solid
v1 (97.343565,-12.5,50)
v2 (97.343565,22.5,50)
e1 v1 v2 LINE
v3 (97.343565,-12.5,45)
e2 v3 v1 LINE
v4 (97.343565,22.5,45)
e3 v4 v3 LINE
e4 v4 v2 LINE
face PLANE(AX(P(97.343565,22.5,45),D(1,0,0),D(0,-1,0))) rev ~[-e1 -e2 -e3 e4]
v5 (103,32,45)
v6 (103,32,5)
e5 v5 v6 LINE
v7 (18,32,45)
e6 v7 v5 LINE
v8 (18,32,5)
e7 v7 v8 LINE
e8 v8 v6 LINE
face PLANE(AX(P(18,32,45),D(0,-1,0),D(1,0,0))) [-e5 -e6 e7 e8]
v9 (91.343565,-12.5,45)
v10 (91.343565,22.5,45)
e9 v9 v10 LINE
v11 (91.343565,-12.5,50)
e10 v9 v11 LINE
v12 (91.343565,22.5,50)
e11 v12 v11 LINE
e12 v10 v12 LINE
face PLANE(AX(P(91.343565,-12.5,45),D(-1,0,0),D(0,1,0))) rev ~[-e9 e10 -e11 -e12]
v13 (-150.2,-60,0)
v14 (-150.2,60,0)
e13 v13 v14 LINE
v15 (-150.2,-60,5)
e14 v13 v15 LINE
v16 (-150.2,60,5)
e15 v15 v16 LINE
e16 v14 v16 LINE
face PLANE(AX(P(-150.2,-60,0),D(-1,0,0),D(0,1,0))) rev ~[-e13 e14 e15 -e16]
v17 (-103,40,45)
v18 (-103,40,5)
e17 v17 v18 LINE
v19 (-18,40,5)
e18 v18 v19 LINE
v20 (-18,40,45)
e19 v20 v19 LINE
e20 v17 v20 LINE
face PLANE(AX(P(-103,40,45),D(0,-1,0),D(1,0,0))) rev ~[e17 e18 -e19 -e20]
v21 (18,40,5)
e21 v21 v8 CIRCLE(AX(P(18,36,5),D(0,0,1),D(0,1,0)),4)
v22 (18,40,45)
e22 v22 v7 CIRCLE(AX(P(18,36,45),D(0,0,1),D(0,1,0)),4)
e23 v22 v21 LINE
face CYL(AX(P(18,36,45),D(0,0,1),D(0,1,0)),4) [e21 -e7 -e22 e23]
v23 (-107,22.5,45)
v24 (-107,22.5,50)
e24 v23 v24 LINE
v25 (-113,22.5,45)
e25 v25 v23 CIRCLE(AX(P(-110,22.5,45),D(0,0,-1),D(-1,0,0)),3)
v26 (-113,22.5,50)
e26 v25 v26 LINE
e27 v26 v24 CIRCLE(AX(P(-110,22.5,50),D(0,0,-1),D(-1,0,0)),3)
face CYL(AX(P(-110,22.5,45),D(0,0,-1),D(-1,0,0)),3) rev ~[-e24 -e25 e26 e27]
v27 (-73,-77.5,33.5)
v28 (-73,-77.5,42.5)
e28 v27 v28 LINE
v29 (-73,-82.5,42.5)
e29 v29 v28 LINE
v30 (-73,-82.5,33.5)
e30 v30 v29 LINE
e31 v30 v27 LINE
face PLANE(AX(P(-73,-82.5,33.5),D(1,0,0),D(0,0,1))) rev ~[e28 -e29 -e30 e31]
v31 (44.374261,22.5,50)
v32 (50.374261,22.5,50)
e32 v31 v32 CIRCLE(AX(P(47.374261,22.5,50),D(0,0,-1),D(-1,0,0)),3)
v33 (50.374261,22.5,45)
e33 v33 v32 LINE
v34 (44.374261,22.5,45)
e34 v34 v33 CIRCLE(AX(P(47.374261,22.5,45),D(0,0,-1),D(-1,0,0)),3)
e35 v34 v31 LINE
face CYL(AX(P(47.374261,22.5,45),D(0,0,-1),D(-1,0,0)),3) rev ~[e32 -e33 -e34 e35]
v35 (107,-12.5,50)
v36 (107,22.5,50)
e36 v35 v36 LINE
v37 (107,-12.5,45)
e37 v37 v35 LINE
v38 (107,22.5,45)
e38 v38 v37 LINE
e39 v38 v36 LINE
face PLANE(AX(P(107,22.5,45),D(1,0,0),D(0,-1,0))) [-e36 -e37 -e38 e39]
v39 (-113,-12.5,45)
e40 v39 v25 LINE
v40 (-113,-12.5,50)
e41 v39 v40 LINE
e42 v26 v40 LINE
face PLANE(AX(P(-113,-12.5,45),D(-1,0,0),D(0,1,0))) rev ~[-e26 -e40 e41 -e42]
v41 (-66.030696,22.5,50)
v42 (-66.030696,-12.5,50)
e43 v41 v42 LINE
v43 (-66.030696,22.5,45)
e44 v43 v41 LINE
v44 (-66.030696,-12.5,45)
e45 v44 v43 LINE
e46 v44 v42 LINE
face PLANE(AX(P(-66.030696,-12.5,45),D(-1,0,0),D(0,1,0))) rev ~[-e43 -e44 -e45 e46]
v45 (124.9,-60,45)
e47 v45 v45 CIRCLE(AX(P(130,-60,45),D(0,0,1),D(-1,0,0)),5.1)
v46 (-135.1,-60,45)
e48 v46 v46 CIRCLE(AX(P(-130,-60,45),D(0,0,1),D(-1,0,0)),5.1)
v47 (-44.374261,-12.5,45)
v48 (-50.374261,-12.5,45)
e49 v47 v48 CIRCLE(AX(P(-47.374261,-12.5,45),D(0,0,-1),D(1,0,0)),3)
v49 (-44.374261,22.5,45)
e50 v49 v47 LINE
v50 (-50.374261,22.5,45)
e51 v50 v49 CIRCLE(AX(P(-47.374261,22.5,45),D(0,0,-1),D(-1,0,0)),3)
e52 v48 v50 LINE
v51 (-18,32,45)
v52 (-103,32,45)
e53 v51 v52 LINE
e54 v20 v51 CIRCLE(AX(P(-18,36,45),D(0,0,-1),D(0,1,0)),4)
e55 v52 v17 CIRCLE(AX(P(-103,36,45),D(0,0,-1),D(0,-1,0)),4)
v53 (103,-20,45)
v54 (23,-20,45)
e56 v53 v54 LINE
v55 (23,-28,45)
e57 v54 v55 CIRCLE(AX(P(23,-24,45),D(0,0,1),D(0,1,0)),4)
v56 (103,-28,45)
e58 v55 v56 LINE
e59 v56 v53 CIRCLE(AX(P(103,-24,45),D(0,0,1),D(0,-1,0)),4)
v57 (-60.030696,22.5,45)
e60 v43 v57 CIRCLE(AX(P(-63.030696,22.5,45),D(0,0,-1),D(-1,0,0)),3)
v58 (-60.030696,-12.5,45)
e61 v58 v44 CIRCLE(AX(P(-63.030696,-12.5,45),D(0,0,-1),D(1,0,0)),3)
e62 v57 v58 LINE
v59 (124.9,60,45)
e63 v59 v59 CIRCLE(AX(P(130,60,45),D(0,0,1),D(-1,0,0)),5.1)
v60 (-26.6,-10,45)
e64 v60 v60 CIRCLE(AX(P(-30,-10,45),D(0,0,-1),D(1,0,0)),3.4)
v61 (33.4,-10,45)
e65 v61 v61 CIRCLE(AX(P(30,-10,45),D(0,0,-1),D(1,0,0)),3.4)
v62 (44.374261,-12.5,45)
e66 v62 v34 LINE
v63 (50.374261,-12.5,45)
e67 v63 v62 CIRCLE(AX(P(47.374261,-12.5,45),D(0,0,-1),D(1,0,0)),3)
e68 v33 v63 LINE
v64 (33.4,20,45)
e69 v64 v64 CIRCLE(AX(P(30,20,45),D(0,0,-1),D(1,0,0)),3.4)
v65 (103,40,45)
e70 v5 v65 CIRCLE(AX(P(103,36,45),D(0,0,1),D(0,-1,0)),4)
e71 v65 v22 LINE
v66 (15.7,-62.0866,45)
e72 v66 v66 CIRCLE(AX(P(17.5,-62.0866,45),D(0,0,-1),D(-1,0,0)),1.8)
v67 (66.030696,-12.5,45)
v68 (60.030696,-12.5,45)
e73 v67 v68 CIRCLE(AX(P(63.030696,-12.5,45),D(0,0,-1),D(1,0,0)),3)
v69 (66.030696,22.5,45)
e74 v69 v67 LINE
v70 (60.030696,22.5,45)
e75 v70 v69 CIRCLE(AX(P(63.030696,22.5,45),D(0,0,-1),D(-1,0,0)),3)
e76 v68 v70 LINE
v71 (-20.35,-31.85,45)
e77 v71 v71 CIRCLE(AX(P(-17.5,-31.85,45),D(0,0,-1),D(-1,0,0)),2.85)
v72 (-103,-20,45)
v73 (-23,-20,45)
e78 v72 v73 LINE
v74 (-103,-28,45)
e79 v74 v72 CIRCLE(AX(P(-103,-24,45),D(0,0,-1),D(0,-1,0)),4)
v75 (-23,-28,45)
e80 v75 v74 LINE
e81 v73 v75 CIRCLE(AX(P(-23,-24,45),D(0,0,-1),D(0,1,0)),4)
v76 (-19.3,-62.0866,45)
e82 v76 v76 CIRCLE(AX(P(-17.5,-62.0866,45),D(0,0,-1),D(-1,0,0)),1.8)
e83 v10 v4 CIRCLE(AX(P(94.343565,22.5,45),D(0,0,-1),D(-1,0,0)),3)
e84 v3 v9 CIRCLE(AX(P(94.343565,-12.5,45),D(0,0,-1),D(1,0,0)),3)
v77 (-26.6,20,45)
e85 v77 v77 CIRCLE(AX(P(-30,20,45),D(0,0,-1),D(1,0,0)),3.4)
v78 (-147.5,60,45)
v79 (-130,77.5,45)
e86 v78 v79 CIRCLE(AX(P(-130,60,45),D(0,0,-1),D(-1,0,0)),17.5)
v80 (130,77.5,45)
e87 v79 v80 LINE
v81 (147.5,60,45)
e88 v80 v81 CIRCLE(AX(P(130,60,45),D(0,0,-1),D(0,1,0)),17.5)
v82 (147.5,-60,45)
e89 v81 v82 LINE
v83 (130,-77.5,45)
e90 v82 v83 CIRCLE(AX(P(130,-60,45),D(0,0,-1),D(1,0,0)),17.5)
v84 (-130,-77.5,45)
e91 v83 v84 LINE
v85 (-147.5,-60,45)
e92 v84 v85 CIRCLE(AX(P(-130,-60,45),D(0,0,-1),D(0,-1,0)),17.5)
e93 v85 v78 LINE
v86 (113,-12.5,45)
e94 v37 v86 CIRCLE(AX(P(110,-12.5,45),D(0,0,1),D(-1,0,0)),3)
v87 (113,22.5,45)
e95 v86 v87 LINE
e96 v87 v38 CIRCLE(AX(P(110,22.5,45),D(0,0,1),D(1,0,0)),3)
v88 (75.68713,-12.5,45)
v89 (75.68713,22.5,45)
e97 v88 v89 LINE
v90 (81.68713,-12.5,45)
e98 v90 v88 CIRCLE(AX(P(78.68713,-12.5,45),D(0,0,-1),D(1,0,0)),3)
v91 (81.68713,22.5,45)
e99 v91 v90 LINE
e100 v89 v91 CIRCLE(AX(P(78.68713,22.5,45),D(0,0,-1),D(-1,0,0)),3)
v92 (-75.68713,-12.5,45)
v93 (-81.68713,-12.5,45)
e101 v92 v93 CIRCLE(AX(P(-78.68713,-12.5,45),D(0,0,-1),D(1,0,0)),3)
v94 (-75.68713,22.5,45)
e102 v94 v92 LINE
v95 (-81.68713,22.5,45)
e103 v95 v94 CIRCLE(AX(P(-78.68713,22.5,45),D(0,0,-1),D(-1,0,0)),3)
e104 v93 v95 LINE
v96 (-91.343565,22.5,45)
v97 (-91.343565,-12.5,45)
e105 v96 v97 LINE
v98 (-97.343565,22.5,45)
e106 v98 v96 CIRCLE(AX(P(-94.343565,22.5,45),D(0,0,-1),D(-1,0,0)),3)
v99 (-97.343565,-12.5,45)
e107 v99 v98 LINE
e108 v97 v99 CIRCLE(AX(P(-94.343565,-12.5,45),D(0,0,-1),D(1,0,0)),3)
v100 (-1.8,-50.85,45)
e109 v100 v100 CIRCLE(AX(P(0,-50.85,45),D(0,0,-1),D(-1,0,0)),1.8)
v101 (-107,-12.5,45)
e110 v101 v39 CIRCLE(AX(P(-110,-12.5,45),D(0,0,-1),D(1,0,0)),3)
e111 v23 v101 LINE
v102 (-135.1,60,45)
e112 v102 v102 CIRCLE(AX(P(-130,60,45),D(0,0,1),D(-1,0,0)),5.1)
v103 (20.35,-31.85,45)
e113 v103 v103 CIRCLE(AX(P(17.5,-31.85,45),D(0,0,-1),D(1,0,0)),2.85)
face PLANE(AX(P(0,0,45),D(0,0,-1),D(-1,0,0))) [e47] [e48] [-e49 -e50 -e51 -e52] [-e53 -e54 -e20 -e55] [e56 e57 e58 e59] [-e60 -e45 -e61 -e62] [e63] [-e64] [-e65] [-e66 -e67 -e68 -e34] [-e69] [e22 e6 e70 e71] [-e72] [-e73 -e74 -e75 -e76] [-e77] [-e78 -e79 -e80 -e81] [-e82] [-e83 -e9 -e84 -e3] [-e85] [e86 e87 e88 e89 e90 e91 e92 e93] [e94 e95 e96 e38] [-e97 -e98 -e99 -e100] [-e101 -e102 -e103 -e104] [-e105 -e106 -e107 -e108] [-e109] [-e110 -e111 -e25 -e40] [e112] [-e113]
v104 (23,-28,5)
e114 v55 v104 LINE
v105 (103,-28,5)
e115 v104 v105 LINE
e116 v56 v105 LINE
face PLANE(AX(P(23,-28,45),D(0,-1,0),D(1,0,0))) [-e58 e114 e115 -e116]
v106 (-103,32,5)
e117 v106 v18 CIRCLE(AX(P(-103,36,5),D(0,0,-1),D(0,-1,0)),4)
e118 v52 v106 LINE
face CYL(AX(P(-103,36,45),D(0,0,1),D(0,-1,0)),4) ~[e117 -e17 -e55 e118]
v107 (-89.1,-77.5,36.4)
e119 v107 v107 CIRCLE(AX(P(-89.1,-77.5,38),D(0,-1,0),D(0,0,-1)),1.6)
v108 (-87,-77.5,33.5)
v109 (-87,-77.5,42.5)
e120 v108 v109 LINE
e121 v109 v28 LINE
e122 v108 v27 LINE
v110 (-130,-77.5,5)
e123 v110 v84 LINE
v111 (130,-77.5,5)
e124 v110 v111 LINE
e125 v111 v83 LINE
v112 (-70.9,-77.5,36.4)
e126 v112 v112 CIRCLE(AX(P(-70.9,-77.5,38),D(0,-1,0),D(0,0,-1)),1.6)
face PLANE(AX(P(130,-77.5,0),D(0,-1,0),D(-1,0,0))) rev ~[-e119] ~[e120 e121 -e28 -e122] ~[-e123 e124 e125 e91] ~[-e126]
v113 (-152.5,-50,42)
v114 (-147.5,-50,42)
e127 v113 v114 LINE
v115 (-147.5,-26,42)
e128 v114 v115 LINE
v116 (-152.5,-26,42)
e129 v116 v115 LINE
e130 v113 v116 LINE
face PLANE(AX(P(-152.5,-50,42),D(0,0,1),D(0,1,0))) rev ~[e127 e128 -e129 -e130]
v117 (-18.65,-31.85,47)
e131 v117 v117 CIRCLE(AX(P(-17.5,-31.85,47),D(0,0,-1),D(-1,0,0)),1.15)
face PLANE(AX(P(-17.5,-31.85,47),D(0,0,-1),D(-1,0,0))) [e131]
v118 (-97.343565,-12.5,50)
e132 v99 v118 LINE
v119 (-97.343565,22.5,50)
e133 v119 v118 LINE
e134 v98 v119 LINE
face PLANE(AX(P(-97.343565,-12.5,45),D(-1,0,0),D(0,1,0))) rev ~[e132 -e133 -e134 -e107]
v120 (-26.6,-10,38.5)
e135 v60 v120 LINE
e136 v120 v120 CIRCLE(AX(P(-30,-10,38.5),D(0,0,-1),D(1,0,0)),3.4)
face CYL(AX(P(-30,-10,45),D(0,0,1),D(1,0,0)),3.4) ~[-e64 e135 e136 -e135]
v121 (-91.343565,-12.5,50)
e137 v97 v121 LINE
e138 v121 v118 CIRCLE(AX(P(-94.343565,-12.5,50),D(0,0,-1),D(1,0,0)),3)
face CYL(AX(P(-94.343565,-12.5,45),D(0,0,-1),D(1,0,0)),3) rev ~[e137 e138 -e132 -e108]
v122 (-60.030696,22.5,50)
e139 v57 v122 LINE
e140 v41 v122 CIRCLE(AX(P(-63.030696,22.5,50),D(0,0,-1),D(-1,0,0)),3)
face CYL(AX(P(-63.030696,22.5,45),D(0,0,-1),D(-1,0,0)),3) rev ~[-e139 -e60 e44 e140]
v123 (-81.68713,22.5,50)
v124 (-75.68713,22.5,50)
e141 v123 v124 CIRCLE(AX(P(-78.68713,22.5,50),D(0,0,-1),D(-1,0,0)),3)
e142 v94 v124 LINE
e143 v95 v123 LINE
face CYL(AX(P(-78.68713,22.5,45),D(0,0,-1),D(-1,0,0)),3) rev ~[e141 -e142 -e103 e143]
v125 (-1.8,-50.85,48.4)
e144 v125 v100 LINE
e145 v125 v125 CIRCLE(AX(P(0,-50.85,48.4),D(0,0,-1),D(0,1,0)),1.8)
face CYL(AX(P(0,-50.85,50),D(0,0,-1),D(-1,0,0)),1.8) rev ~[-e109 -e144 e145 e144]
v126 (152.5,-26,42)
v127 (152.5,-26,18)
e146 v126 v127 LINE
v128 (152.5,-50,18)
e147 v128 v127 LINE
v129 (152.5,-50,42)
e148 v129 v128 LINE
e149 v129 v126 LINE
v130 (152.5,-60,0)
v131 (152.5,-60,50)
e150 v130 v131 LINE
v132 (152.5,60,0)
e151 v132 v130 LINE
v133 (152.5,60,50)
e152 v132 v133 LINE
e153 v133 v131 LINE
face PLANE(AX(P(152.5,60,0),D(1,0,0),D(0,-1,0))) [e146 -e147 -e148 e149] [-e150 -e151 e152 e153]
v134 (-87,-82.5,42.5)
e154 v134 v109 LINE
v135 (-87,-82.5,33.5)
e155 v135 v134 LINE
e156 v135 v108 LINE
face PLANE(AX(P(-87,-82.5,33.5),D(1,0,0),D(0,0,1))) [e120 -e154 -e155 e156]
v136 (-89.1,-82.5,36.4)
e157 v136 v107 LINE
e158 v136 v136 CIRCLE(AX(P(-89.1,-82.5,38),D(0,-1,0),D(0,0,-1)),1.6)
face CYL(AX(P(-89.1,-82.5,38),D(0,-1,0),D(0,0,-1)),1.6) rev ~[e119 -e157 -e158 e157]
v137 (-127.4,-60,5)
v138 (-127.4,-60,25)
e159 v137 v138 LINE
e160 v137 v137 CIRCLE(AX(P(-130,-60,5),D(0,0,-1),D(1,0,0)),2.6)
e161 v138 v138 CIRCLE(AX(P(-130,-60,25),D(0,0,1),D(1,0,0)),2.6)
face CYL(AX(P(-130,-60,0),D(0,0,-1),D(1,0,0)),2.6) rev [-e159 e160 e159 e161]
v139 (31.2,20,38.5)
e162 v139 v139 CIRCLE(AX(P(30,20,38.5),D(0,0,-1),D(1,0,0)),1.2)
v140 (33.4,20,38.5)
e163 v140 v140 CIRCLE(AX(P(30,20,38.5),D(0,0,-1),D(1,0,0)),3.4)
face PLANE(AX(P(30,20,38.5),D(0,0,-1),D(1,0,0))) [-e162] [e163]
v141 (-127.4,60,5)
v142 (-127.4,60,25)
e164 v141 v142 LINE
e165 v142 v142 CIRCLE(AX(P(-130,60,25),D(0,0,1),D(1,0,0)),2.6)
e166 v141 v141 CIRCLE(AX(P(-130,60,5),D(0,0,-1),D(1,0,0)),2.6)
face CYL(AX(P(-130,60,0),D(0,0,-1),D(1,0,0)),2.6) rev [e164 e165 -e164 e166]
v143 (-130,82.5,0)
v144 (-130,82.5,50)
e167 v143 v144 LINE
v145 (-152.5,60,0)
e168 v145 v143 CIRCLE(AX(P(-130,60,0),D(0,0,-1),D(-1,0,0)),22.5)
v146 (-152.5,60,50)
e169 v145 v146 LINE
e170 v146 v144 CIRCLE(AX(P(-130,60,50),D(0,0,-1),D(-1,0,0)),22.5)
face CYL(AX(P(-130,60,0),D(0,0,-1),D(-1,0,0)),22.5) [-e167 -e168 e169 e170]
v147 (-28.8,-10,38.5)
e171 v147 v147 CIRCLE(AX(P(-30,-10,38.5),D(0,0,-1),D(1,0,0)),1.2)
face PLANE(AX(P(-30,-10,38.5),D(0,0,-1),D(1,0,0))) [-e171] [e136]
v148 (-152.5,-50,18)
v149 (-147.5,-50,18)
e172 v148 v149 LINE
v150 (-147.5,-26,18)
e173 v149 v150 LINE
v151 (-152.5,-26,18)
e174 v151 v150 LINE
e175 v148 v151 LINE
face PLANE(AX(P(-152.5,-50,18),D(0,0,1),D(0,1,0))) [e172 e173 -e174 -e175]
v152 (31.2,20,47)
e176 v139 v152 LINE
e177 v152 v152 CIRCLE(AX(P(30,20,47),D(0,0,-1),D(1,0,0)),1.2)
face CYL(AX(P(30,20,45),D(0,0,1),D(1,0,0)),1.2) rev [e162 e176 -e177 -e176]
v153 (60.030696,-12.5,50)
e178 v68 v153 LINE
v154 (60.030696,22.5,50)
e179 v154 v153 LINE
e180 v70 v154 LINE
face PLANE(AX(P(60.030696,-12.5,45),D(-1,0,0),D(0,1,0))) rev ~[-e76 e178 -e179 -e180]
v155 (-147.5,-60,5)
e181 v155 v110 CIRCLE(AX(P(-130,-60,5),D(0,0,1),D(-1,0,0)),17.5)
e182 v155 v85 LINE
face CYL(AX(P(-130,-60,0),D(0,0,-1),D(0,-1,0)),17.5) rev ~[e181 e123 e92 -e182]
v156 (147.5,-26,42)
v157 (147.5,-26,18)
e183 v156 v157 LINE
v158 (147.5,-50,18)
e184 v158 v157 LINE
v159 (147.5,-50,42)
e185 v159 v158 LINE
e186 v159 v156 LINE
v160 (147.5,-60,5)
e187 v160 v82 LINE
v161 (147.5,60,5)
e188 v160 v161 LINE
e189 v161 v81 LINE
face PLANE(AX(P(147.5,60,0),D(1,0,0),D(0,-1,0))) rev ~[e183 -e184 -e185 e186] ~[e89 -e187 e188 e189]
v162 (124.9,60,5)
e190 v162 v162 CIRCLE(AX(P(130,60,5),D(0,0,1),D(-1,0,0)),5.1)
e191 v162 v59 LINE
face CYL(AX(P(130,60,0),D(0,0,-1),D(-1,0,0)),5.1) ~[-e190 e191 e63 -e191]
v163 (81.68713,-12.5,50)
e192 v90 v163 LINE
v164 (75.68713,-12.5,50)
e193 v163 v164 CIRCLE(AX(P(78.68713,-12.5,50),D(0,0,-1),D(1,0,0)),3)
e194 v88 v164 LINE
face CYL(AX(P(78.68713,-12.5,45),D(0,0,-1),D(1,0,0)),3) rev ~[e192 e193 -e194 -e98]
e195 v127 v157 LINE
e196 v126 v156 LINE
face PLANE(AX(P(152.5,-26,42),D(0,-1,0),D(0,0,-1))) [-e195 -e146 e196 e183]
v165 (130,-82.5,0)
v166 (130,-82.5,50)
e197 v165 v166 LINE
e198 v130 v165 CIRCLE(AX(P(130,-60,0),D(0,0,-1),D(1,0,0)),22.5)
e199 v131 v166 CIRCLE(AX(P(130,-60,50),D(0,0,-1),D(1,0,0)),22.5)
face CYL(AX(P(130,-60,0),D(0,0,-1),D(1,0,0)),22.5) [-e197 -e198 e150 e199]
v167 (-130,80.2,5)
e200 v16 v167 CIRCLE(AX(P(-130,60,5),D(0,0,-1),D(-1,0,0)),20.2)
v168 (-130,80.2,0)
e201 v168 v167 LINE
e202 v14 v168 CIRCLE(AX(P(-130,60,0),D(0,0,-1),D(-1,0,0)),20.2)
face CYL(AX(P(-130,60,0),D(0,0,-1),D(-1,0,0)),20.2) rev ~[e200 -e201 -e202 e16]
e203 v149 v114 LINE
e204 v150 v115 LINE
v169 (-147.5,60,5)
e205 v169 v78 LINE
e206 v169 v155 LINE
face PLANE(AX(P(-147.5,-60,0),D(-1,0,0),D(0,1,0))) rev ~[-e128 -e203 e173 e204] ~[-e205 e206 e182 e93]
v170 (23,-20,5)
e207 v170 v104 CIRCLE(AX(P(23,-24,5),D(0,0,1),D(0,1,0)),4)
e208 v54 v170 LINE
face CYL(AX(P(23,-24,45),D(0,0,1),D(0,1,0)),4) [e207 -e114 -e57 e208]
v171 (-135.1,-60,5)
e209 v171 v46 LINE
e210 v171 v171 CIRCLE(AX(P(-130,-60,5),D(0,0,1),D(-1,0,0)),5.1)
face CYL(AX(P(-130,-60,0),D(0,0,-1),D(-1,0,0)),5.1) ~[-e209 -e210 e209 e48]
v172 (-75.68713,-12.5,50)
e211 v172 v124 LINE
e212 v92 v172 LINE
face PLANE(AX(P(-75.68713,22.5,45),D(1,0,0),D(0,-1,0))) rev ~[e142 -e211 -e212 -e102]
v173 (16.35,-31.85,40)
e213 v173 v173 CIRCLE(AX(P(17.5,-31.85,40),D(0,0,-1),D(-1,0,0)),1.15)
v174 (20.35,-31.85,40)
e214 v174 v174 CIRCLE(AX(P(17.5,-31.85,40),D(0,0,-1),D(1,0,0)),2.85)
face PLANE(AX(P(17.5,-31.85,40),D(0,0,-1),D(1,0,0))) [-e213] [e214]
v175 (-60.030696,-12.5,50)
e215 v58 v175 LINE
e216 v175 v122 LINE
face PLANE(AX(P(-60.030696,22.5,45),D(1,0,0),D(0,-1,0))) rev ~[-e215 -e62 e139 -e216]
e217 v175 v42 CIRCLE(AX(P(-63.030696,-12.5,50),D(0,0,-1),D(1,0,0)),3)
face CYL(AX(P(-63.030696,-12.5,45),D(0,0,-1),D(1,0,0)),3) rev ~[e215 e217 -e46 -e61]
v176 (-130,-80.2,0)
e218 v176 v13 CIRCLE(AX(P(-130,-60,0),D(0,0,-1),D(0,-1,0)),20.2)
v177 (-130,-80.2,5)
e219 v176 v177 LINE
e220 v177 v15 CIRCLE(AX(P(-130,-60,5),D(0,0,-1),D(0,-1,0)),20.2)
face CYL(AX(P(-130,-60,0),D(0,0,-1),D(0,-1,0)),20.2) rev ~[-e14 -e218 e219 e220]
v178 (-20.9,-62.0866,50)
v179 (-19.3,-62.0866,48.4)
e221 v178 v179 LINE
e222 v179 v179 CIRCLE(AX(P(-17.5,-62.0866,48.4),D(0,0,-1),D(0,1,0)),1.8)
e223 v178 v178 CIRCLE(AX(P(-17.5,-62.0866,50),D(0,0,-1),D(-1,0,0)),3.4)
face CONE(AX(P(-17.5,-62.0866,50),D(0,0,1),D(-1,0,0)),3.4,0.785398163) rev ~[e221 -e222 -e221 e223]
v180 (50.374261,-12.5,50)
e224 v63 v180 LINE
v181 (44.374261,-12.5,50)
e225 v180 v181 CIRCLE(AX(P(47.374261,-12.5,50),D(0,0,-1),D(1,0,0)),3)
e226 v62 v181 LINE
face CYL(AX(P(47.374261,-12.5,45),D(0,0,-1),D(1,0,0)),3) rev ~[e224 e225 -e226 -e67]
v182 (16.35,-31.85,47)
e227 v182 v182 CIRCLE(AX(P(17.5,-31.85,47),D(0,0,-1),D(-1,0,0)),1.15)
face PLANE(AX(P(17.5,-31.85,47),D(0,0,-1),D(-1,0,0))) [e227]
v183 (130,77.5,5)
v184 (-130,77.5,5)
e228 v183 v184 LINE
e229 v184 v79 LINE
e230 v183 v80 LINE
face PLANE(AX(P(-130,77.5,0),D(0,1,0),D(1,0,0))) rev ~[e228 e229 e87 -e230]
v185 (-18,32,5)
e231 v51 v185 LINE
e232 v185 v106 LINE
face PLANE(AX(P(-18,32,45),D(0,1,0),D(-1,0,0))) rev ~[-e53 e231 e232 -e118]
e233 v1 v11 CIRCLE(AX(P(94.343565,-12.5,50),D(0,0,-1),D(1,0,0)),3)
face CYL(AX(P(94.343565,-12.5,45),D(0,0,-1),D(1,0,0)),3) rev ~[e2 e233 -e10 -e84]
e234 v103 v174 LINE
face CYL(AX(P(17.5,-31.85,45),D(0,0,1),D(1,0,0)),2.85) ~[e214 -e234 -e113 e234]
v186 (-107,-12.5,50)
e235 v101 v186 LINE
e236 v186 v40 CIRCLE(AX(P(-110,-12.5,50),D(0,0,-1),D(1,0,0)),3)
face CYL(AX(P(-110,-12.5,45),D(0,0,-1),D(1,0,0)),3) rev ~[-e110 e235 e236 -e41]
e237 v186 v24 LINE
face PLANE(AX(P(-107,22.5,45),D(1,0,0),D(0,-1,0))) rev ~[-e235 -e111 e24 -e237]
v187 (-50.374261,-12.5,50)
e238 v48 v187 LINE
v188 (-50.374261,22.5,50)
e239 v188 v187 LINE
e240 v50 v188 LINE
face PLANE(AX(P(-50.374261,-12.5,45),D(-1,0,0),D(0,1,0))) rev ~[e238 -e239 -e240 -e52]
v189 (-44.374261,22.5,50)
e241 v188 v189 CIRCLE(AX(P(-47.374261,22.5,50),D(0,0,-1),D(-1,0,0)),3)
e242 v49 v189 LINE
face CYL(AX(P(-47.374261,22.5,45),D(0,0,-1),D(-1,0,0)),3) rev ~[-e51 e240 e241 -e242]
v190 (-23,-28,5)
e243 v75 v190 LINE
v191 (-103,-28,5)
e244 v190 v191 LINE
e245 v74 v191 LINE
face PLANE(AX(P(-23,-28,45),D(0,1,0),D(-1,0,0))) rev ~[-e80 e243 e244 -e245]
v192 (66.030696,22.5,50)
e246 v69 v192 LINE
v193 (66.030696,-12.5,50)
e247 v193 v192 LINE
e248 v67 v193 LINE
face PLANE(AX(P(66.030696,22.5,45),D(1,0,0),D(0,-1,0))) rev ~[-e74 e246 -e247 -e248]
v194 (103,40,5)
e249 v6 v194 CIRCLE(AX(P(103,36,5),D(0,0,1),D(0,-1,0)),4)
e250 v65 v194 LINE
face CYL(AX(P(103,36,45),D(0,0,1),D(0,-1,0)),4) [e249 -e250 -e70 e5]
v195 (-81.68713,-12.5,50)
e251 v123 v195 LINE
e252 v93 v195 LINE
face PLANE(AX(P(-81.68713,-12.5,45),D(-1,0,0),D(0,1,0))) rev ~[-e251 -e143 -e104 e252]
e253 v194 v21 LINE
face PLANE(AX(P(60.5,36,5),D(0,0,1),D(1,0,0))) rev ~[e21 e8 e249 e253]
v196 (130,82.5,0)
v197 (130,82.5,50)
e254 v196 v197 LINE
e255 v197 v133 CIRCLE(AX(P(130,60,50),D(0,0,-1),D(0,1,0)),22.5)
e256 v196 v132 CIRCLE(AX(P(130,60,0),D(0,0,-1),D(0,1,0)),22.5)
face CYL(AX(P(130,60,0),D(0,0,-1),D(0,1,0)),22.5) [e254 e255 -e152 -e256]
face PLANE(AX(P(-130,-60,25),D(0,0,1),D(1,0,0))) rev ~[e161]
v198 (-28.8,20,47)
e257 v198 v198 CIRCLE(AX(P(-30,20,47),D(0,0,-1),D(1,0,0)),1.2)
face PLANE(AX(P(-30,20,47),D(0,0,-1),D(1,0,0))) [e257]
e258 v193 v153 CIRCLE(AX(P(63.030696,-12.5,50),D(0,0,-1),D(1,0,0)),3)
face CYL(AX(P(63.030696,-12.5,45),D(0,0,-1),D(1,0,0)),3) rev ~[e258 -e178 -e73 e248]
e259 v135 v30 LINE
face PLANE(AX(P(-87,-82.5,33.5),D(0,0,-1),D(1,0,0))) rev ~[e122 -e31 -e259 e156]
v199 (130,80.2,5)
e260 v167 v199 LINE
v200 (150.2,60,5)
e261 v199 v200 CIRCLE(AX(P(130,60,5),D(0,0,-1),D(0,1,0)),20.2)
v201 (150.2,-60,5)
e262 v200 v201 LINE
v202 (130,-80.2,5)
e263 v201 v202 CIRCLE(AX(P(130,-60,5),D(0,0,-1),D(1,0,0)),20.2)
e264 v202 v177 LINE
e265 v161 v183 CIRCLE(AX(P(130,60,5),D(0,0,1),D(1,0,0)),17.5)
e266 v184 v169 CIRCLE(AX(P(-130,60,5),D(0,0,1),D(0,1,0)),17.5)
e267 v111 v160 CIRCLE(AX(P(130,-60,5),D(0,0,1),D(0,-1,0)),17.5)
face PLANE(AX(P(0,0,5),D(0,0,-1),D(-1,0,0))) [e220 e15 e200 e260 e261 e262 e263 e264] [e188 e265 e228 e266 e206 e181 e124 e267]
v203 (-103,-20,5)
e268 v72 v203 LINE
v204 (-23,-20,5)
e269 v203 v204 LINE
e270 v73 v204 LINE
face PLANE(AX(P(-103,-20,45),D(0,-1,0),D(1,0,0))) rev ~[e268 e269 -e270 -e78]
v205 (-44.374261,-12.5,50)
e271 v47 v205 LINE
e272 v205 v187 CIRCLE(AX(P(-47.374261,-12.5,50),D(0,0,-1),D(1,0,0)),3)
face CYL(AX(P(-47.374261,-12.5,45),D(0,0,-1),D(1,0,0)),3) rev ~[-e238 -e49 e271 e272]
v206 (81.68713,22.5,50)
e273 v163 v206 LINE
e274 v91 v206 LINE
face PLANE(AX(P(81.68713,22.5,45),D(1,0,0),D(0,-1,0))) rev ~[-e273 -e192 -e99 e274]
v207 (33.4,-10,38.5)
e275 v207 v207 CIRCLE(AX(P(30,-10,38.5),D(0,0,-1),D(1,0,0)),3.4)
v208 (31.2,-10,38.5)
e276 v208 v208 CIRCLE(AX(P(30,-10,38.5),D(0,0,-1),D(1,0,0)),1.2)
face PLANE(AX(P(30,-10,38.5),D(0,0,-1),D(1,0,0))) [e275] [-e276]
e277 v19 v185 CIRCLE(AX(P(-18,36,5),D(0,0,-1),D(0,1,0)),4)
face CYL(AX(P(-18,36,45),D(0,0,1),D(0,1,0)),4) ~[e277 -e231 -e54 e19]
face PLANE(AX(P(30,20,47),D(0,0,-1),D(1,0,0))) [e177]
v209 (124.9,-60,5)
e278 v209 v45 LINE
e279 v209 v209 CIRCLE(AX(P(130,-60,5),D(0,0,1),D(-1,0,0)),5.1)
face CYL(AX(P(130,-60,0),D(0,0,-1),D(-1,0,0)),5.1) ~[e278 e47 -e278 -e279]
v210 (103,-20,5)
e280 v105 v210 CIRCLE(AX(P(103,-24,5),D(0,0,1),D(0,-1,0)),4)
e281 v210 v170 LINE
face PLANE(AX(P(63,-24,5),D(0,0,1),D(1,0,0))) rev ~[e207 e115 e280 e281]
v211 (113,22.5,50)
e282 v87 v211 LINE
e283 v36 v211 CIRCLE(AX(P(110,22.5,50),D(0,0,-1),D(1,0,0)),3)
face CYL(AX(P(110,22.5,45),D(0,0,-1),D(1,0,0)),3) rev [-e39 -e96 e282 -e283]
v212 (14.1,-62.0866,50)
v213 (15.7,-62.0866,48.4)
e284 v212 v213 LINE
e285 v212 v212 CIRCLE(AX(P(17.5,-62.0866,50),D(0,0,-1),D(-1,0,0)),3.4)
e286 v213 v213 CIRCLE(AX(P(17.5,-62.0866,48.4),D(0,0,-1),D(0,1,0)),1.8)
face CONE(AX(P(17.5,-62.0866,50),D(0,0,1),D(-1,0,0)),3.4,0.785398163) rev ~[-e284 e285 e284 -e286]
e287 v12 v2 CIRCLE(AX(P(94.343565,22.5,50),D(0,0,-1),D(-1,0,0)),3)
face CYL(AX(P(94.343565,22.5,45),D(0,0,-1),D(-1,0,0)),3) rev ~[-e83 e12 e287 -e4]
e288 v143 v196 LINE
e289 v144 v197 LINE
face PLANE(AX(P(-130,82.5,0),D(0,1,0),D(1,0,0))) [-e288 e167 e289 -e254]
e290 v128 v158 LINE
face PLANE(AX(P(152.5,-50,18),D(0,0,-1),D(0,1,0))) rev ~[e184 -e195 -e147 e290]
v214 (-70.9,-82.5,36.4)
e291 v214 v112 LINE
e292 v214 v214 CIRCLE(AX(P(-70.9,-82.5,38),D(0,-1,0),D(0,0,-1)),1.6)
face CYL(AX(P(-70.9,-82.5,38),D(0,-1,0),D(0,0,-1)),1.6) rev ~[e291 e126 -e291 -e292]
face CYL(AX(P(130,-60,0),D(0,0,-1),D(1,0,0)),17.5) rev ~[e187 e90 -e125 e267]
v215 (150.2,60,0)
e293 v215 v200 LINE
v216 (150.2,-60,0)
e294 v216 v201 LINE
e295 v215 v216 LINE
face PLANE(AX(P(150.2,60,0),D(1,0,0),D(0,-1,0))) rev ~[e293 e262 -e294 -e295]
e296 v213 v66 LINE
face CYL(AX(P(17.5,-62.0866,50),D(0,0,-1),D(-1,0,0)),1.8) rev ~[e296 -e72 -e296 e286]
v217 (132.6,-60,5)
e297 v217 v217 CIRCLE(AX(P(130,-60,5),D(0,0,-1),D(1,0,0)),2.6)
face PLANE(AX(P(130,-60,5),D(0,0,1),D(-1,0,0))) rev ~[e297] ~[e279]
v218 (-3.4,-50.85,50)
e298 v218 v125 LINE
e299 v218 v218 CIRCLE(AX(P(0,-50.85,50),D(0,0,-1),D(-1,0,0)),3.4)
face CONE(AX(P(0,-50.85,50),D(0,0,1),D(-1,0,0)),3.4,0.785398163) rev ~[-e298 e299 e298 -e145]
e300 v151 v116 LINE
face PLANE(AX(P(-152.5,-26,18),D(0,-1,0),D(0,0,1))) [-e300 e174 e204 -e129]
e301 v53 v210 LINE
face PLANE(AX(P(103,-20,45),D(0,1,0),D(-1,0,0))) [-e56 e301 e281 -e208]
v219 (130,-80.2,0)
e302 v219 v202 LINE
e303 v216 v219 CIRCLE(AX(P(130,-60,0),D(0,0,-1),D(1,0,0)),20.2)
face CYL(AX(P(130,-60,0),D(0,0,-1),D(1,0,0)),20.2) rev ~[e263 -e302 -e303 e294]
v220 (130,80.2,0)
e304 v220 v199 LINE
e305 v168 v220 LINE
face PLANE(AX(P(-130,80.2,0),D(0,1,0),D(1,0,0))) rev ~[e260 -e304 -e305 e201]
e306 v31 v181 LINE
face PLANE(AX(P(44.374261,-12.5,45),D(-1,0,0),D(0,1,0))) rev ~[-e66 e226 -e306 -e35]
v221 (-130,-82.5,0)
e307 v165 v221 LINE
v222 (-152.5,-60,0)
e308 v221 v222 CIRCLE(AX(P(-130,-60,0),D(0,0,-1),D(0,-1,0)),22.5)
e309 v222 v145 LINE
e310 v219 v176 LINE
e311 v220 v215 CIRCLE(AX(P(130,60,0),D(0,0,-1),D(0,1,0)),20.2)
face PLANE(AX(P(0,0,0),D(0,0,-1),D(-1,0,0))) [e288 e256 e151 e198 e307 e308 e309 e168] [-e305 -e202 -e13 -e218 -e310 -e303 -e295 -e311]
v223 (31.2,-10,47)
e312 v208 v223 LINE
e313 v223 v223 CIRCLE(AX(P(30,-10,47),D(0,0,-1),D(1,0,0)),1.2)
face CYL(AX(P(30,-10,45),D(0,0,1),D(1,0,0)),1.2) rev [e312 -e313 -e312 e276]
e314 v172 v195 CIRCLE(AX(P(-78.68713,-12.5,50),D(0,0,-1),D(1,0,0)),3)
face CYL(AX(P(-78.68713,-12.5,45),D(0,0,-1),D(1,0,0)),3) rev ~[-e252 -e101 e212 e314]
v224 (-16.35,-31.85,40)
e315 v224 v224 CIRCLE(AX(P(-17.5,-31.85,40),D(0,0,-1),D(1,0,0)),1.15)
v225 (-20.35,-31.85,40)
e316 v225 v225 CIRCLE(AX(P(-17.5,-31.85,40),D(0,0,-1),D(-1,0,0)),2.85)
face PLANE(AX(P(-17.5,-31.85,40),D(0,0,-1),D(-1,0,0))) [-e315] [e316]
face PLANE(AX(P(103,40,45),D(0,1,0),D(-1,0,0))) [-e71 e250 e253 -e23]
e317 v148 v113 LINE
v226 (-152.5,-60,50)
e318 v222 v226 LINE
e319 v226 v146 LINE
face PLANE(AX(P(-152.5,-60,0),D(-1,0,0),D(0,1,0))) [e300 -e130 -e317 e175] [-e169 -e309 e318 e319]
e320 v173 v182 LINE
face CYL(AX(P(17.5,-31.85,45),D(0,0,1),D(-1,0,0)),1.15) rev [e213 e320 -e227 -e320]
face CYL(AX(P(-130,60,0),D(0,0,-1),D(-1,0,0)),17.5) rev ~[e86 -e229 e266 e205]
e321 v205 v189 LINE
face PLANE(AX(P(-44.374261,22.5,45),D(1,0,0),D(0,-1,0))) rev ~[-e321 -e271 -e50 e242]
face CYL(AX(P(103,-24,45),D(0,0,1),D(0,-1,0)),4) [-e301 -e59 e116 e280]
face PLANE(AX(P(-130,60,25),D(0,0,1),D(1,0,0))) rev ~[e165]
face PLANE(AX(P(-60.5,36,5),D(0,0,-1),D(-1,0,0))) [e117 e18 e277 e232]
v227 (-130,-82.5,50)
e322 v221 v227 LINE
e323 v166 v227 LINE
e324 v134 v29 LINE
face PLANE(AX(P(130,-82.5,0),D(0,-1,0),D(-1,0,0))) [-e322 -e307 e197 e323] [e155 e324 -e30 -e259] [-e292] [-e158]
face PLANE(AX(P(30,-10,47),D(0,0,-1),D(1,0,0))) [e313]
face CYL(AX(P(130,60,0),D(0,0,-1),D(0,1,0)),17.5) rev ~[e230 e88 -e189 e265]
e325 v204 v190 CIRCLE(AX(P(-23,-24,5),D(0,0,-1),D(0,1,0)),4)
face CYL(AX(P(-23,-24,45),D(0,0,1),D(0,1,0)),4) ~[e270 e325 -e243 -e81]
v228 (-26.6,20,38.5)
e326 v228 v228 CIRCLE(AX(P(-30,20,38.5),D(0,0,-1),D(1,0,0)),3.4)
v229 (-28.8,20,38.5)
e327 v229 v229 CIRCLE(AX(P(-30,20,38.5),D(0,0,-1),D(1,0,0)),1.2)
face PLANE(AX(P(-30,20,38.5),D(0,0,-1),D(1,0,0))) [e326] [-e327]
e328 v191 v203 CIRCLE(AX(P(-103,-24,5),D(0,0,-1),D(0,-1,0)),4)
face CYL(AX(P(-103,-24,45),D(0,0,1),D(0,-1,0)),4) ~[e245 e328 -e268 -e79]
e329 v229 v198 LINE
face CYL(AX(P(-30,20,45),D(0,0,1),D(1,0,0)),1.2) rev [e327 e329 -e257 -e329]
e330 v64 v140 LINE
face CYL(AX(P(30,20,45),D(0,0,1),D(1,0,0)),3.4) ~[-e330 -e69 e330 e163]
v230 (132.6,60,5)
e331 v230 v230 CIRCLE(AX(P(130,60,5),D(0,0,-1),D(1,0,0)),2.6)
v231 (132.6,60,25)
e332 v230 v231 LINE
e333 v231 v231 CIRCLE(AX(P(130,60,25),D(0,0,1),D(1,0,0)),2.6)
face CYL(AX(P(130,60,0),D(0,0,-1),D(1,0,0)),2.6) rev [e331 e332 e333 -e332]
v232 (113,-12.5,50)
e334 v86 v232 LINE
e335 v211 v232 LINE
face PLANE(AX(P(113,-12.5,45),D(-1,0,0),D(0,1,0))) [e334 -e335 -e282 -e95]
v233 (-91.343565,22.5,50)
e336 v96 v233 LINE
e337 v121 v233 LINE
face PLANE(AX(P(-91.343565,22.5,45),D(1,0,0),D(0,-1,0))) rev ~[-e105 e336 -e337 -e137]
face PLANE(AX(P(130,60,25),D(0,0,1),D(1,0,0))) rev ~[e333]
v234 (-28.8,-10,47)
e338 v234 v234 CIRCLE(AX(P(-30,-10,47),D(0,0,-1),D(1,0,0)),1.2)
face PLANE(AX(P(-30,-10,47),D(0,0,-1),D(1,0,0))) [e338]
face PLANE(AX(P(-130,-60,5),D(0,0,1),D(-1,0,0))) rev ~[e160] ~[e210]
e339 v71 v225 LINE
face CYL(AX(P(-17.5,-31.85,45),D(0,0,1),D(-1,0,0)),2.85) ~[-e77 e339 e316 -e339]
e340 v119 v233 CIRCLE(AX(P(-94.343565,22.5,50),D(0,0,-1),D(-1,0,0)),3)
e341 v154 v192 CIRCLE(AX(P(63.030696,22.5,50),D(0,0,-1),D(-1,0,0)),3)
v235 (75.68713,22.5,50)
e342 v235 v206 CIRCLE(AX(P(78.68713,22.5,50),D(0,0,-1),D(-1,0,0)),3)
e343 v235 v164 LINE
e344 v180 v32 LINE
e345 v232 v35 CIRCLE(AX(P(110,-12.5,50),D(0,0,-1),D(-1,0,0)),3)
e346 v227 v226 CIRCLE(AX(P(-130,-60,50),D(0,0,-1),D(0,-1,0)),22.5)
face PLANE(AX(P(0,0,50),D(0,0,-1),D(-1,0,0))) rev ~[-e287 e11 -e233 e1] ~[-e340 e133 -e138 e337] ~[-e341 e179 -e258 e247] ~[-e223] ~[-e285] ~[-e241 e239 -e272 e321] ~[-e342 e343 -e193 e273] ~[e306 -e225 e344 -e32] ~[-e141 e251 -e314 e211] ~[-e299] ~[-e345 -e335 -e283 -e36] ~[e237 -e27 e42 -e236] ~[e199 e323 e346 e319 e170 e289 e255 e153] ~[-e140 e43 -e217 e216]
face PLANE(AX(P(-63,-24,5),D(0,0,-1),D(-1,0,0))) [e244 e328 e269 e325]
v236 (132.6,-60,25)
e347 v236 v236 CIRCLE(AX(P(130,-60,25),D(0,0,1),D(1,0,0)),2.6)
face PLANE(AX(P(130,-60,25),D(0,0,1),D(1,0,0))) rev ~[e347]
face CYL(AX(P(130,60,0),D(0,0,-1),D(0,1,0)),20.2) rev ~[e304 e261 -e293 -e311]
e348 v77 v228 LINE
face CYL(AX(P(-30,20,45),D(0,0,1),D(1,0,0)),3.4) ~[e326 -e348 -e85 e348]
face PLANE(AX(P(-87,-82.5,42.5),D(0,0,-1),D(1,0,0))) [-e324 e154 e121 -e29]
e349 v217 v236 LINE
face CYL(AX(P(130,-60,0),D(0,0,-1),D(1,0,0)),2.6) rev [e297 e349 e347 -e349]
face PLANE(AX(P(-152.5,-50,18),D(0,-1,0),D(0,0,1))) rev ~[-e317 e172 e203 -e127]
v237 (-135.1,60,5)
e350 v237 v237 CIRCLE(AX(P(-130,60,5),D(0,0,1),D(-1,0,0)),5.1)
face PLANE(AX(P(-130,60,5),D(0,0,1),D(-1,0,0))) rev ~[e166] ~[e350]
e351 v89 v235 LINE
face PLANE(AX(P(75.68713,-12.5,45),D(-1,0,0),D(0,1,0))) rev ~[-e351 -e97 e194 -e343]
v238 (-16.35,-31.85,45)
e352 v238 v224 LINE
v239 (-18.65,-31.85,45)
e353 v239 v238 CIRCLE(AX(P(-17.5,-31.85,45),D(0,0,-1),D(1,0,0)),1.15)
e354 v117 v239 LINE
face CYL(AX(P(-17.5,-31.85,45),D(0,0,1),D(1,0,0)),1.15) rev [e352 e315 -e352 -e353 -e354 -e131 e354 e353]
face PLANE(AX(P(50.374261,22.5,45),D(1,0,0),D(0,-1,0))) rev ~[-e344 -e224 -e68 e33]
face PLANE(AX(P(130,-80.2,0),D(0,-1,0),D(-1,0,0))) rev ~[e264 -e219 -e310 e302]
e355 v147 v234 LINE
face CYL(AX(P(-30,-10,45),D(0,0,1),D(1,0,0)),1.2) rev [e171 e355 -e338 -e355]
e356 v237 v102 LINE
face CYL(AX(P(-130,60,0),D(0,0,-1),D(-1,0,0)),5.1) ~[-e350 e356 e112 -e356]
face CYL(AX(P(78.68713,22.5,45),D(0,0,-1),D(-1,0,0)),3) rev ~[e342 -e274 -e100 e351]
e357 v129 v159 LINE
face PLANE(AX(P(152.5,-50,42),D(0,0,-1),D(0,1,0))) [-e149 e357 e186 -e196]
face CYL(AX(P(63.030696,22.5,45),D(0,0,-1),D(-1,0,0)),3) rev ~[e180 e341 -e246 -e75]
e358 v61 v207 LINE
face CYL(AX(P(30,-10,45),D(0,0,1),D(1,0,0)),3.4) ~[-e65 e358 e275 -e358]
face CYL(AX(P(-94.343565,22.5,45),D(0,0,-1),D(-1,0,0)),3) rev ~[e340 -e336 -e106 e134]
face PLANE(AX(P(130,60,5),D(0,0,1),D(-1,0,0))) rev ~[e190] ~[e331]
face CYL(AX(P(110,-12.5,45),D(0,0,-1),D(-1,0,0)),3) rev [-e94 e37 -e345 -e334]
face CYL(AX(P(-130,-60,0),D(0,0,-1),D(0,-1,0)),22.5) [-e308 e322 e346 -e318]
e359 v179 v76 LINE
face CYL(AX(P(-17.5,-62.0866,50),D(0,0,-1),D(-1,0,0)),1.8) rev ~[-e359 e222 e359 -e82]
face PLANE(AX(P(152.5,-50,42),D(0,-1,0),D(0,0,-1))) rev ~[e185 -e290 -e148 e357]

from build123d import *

# Parameters (mm, degrees)
EXTRUDE_1_DEPTH              = 50
SKETCH_1_4_R                 = 5.1
CUT_EXTRUDE_1_DEPTH          = 45
CUT_EXTRUDE_2_DEPTH          = 5
SKETCH_1_6_R                 = 5.1
CUT_EXTRUDE_3_DEPTH          = 5
SKETCH_1_7_R                 = 2.6
CUT_EXTRUDE_4_DEPTH          = 25
SKETCH_14_R                  = 1.6
SKETCH_14_W                  = 14
SKETCH_14_H                  = 9
USB_DEPTH                    = 5
SKETCH_16_W                  = 24
SKETCH_16_H                  = 24
CUT_EXTRUDE_12_DEPTH         = 5
SKETCH_18_W                  = 24
SKETCH_18_H                  = 24
CUT_EXTRUDE_13_DEPTH         = 5
EXTRUDE_2_DEPTH              = 40
SKETCH_29_4_R                = 2.85
SKETCH_29_4_R_2              = 1.15
EXTRUDE_4_DEPTH              = 5
SKETCH_29_5_R                = 3.4
SKETCH_29_5_R_2              = 1.2
EXTRUDE_5_DEPTH              = 6.5
CUT_EXTRUDE_START            = -2
SKETCH_29_R                  = 1.15
SKETCH_29_R_2                = 1.2
CUT_EXTRUDE_14_DEPTH         = 2
SKETCH_30_R                  = 1.6
CUT_EXTRUDE_21_DEPTH         = 5
HOLE_WIZARD_M3_1_D           = 3.6
HOLE_WIZARD_M3_1_CSINK_D     = 6.8
HOLE_WIZARD_M3_1_CSINK_ANGLE = 90
CUT_EXTRUDE_23_REACH         = 181.13


with BuildPart() as part:
    # 草图1 → 凸台-拉伸1 (new body)
    with BuildSketch(Plane.XY):
        with BuildLine():
            Line((-130, 82.5), (130, 82.5))
            ThreePointArc((130, 82.5), (145.909902577, 75.909902577), (152.5, 60))
            Line((152.5, 60), (152.5, -60))
            ThreePointArc((152.5, -60), (145.909902577, -75.909902577), (130, -82.5))
            Line((130, -82.5), (-130, -82.5))
            ThreePointArc((-130, -82.5), (-145.909902577, -75.909902577), (-152.5, -60))
            Line((-152.5, -60), (-152.5, 60))
            ThreePointArc((-152.5, 60), (-145.909902577, 75.909902577), (-130, 82.5))
        make_face()
    extrude(amount=EXTRUDE_1_DEPTH)

    # 草图1<4> → 切除-拉伸1 (cut)
    with BuildSketch(Plane.XY):
        with BuildLine():
            Line((-130, 77.5), (130, 77.5))
            ThreePointArc((130, 77.5), (142.374368671, 72.374368671), (147.5, 60))
            Line((147.5, 60), (147.5, -60))
            ThreePointArc((147.5, -60), (142.374368671, -72.374368671), (130, -77.5))
            Line((130, -77.5), (-130, -77.5))
            ThreePointArc((-130, -77.5), (-142.374368671, -72.374368671), (-147.5, -60))
            Line((-147.5, -60), (-147.5, 60))
            ThreePointArc((-147.5, 60), (-142.374368671, 72.374368671), (-130, 77.5))
        make_face()
        with Locations(Location((130, 60, 0), (0, 0, 180))):
            Circle(SKETCH_1_4_R, mode=Mode.SUBTRACT)
        with Locations(Location((130, -60, 0), (0, 0, 180))):
            Circle(SKETCH_1_4_R, mode=Mode.SUBTRACT)
        with Locations(Location((-130, 60, 0), (0, 0, 180))):
            Circle(SKETCH_1_4_R, mode=Mode.SUBTRACT)
        with Locations(Location((-130, -60, 0), (0, 0, 180))):
            Circle(SKETCH_1_4_R, mode=Mode.SUBTRACT)
    extrude(amount=CUT_EXTRUDE_1_DEPTH, mode=Mode.SUBTRACT)

    # 草图1<5> → 切除-拉伸2 (cut)
    with BuildSketch(Plane.XY):
        with BuildLine():
            ThreePointArc((-150.2, 60), (-144.28355698, 74.28355698), (-130, 80.2))
            Line((-130, 80.2), (130, 80.2))
            ThreePointArc((130, 80.2), (144.28355698, 74.28355698), (150.2, 60))
            Line((150.2, 60), (150.2, -60))
            ThreePointArc((150.2, -60), (144.28355698, -74.28355698), (130, -80.2))
            Line((130, -80.2), (-130, -80.2))
            ThreePointArc((-130, -80.2), (-144.28355698, -74.28355698), (-150.2, -60))
            Line((-150.2, -60), (-150.2, 60))
        make_face()
        with BuildLine():
            Line((-147.5, 60), (-147.5, -60))
            ThreePointArc((-147.5, -60), (-142.374368671, -72.374368671), (-130, -77.5))
            Line((-130, -77.5), (130, -77.5))
            ThreePointArc((130, -77.5), (142.374368671, -72.374368671), (147.5, -60))
            Line((147.5, -60), (147.5, 60))
            ThreePointArc((147.5, 60), (142.374368671, 72.374368671), (130, 77.5))
            Line((130, 77.5), (-130, 77.5))
            ThreePointArc((-130, 77.5), (-142.374368671, 72.374368671), (-147.5, 60))
        make_face(mode=Mode.SUBTRACT)
    extrude(amount=CUT_EXTRUDE_2_DEPTH, mode=Mode.SUBTRACT)

    # 草图1<6> → 切除-拉伸3 (cut)
    with BuildSketch(Plane.XY):
        with Locations(Location((130, 60, 0), (0, 0, 180))):
            Circle(SKETCH_1_6_R)
        with Locations(Location((130, -60, 0), (0, 0, 180))):
            Circle(SKETCH_1_6_R)
        with Locations(Location((-130, 60, 0), (0, 0, 180))):
            Circle(SKETCH_1_6_R)
        with Locations(Location((-130, -60, 0), (0, 0, 180))):
            Circle(SKETCH_1_6_R)
    extrude(amount=CUT_EXTRUDE_3_DEPTH, mode=Mode.SUBTRACT)

    # 草图1<7> → 切除-拉伸4 (cut)
    with BuildSketch(Plane.XY):
        with Locations((-130, -60)):
            Circle(SKETCH_1_7_R)
        with Locations((130, 60)):
            Circle(SKETCH_1_7_R)
        with Locations((130, -60)):
            Circle(SKETCH_1_7_R)
        with Locations((-130, 60)):
            Circle(SKETCH_1_7_R)
    extrude(amount=CUT_EXTRUDE_4_DEPTH, mode=Mode.SUBTRACT)

    # 草图14 → USB口 (cut)
    with BuildSketch(Plane.XZ.offset(82.5)):
        with Locations(Location((-70.9, 38, 0), (0, 0, 270))):
            Circle(SKETCH_14_R)
        with Locations(Location((-89.1, 38, 0), (0, 0, 270))):
            Circle(SKETCH_14_R)
        with Locations((-80, 38)):
            Rectangle(SKETCH_14_W, SKETCH_14_H)
    extrude(amount=-USB_DEPTH, mode=Mode.SUBTRACT)

    # 草图16 → 切除-拉伸12 (cut)
    with BuildSketch(Plane(origin=(152.5, 0, 0), x_dir=(0, 0, -1), z_dir=(1, 0, 0))):
        with Locations((-30, -38)):
            Rectangle(SKETCH_16_W, SKETCH_16_H)
    extrude(amount=-CUT_EXTRUDE_12_DEPTH, mode=Mode.SUBTRACT)

    # 草图18 → 切除-拉伸13 (cut)
    with BuildSketch(Plane.ZY.offset(152.5)):
        with Locations((30, -38)):
            Rectangle(SKETCH_18_W, SKETCH_18_H)
    extrude(amount=-CUT_EXTRUDE_13_DEPTH, mode=Mode.SUBTRACT)

    # 草图19 → 凸台-拉伸2 (add)
    with BuildSketch(Plane(origin=(0, 0, 45), x_dir=(-1, 0, 0), z_dir=(0, 0, -1))):
        with BuildLine():
            Line((-103, 40), (-18, 40))
            ThreePointArc((-18, 40), (-14, 36), (-18, 32))
            Line((-18, 32), (-103, 32))
            ThreePointArc((-103, 32), (-107, 36), (-103, 40))
        make_face()
        with BuildLine():
            Line((103, 40), (18, 40))
            ThreePointArc((18, 40), (14, 36), (18, 32))
            Line((18, 32), (103, 32))
            ThreePointArc((103, 32), (107, 36), (103, 40))
        make_face()
        with BuildLine():
            Line((-103, -20), (-23, -20))
            ThreePointArc((-23, -20), (-19, -24), (-23, -28))
            Line((-23, -28), (-103, -28))
            ThreePointArc((-103, -28), (-107, -24), (-103, -20))
        make_face()
        with BuildLine():
            Line((103, -20), (23, -20))
            ThreePointArc((23, -20), (19, -24), (23, -28))
            Line((23, -28), (103, -28))
            ThreePointArc((103, -28), (107, -24), (103, -20))
        make_face()
    extrude(amount=EXTRUDE_2_DEPTH)

    # 草图29<4> → 凸台-拉伸4 (add)
    # profile 1 of 2: a face of its own
    with BuildSketch(Plane(origin=(0, 0, 45), x_dir=(-1, 0, 0), z_dir=(0, 0, -1))):
        with Locations(Location((-17.5, -31.85, 0), (0, 0, 180))):
            Circle(SKETCH_29_4_R)
        with Locations((-17.5, -31.85)):
            Circle(SKETCH_29_4_R_2, mode=Mode.SUBTRACT)
    # profile 2 of 2: a face of its own
    with BuildSketch(Plane(origin=(0, 0, 45), x_dir=(-1, 0, 0), z_dir=(0, 0, -1))):
        with Locations((17.5, -31.85)):
            Circle(SKETCH_29_4_R)
        with Locations(Location((17.5, -31.85, 0), (0, 0, 180))):
            Circle(SKETCH_29_4_R_2, mode=Mode.SUBTRACT)
    extrude(amount=EXTRUDE_4_DEPTH)

    # 草图29<5> → 凸台-拉伸5 (add)
    # profile 1 of 4: a face of its own
    with BuildSketch(Plane(origin=(0, 0, 45), x_dir=(-1, 0, 0), z_dir=(0, 0, -1))):
        with Locations(Location((-30, 20, 0), (0, 0, 180))):
            Circle(SKETCH_29_5_R)
        with Locations(Location((-30, 20, 0), (0, 0, 180))):
            Circle(SKETCH_29_5_R_2, mode=Mode.SUBTRACT)
    # profile 2 of 4: a face of its own
    with BuildSketch(Plane(origin=(0, 0, 45), x_dir=(-1, 0, 0), z_dir=(0, 0, -1))):
        with Locations(Location((-30, -10, 0), (0, 0, 180))):
            Circle(SKETCH_29_5_R)
        with Locations(Location((-30, -10, 0), (0, 0, 180))):
            Circle(SKETCH_29_5_R_2, mode=Mode.SUBTRACT)
    # profile 3 of 4: a face of its own
    with BuildSketch(Plane(origin=(0, 0, 45), x_dir=(-1, 0, 0), z_dir=(0, 0, -1))):
        with Locations(Location((30, 20, 0), (0, 0, 180))):
            Circle(SKETCH_29_5_R)
        with Locations(Location((30, 20, 0), (0, 0, 180))):
            Circle(SKETCH_29_5_R_2, mode=Mode.SUBTRACT)
    # profile 4 of 4: a face of its own
    with BuildSketch(Plane(origin=(0, 0, 45), x_dir=(-1, 0, 0), z_dir=(0, 0, -1))):
        with Locations(Location((30, -10, 0), (0, 0, 180))):
            Circle(SKETCH_29_5_R)
        with Locations(Location((30, -10, 0), (0, 0, 180))):
            Circle(SKETCH_29_5_R_2, mode=Mode.SUBTRACT)
    extrude(amount=EXTRUDE_5_DEPTH)

    # 草图29 → 切除-拉伸14 (cut)
    with BuildSketch(Plane(origin=(0, 0, 45), x_dir=(-1, 0, 0), z_dir=(0, 0, -1)).offset(CUT_EXTRUDE_START)):
        with Locations((17.5, -31.85)):
            Circle(SKETCH_29_R)
        with Locations((-17.5, -31.85)):
            Circle(SKETCH_29_R)
        with Locations(Location((30, -10, 0), (0, 0, 180))):
            Circle(SKETCH_29_R_2)
        with Locations(Location((-30, -10, 0), (0, 0, 180))):
            Circle(SKETCH_29_R_2)
        with Locations(Location((-30, 20, 0), (0, 0, 180))):
            Circle(SKETCH_29_R_2)
        with Locations(Location((30, 20, 0), (0, 0, 180))):
            Circle(SKETCH_29_R_2)
    extrude(amount=CUT_EXTRUDE_14_DEPTH, mode=Mode.SUBTRACT)

    # 草图30 → 切除-拉伸21 (cut)
    with BuildSketch(Plane(origin=(0, 0, 45), x_dir=(-1, 0, 0), z_dir=(0, 0, -1))):
        with Locations((17.5, -62.0866)):
            Circle(SKETCH_30_R)
        with Locations((0, -50.85)):
            Circle(SKETCH_30_R)
        with Locations((-17.5, -62.0866)):
            Circle(SKETCH_30_R)
    extrude(amount=-CUT_EXTRUDE_21_DEPTH, mode=Mode.SUBTRACT)

    # M3 平头机械螺钉的锥形沉头孔1 (through all)
    with Locations(Plane.XY.offset(50)):
        with Locations((17.5, -62.0866), (0, -50.85), (-17.5, -62.0866)):
            CounterSinkHole(HOLE_WIZARD_M3_1_D / 2, HOLE_WIZARD_M3_1_CSINK_D / 2, counter_sink_angle=HOLE_WIZARD_M3_1_CSINK_ANGLE)

    # 草图38 → 切除-拉伸23 (cut, up to next)
    with BuildSketch(Plane(origin=(0, 0, 45), x_dir=(-1, 0, 0), z_dir=(0, 0, -1)), mode=Mode.PRIVATE) as cut_extrude_23_sk1:
        with BuildLine():
            Line((-107, 22.5), (-107, -12.5))
            ThreePointArc((-107, -12.5), (-110, -15.5), (-113, -12.5))
            Line((-113, -12.5), (-113, 22.5))
            ThreePointArc((-113, 22.5), (-110, 25.5), (-107, 22.5))
        make_face()
    cut_extrude_23_tool1 = extrude(cut_extrude_23_sk1.sketch, amount=-CUT_EXTRUDE_23_REACH, mode=Mode.PRIVATE) & part.part
    # 草图38 → 切除-拉伸23 (cut, up to next)
    with BuildSketch(Plane(origin=(0, 0, 45), x_dir=(-1, 0, 0), z_dir=(0, 0, -1)), mode=Mode.PRIVATE) as cut_extrude_23_sk2:
        with BuildLine():
            Line((-97.343565249, 22.5), (-97.343565249, -12.5))
            ThreePointArc((-97.343565249, -12.5), (-94.343565249, -15.5), (-91.343565249, -12.5))
            Line((-91.343565249, -12.5), (-91.343565249, 22.5))
            ThreePointArc((-91.343565249, 22.5), (-94.343565249, 25.5), (-97.343565249, 22.5))
        make_face()
    cut_extrude_23_tool2 = extrude(cut_extrude_23_sk2.sketch, amount=-CUT_EXTRUDE_23_REACH, mode=Mode.PRIVATE) & part.part
    # 草图38 → 切除-拉伸23 (cut, up to next)
    with BuildSketch(Plane(origin=(0, 0, 45), x_dir=(-1, 0, 0), z_dir=(0, 0, -1)), mode=Mode.PRIVATE) as cut_extrude_23_sk3:
        with BuildLine():
            Line((-81.687130498, 22.5), (-81.687130498, -12.5))
            ThreePointArc((-81.687130498, -12.5), (-78.687130498, -15.5), (-75.687130498, -12.5))
            Line((-75.687130498, -12.5), (-75.687130498, 22.5))
            ThreePointArc((-75.687130498, 22.5), (-78.687130498, 25.5), (-81.687130498, 22.5))
        make_face()
    cut_extrude_23_tool3 = extrude(cut_extrude_23_sk3.sketch, amount=-CUT_EXTRUDE_23_REACH, mode=Mode.PRIVATE) & part.part
    # 草图38 → 切除-拉伸23 (cut, up to next)
    with BuildSketch(Plane(origin=(0, 0, 45), x_dir=(-1, 0, 0), z_dir=(0, 0, -1)), mode=Mode.PRIVATE) as cut_extrude_23_sk4:
        with BuildLine():
            Line((-66.030695747, 22.5), (-66.030695747, -12.5))
            ThreePointArc((-66.030695747, -12.5), (-63.030695747, -15.5), (-60.030695747, -12.5))
            Line((-60.030695747, -12.5), (-60.030695747, 22.5))
            ThreePointArc((-60.030695747, 22.5), (-63.030695747, 25.5), (-66.030695747, 22.5))
        make_face()
    cut_extrude_23_tool4 = extrude(cut_extrude_23_sk4.sketch, amount=-CUT_EXTRUDE_23_REACH, mode=Mode.PRIVATE) & part.part
    # 草图38 → 切除-拉伸23 (cut, up to next)
    with BuildSketch(Plane(origin=(0, 0, 45), x_dir=(-1, 0, 0), z_dir=(0, 0, -1)), mode=Mode.PRIVATE) as cut_extrude_23_sk5:
        with BuildLine():
            Line((-50.374260997, 22.5), (-50.374260997, -12.5))
            ThreePointArc((-50.374260997, -12.5), (-47.374260997, -15.5), (-44.374260997, -12.5))
            Line((-44.374260997, -12.5), (-44.374260997, 22.5))
            ThreePointArc((-44.374260997, 22.5), (-47.374260997, 25.5), (-50.374260997, 22.5))
        make_face()
    cut_extrude_23_tool5 = extrude(cut_extrude_23_sk5.sketch, amount=-CUT_EXTRUDE_23_REACH, mode=Mode.PRIVATE) & part.part
    # 草图38 → 切除-拉伸23 (cut, up to next)
    with BuildSketch(Plane(origin=(0, 0, 45), x_dir=(-1, 0, 0), z_dir=(0, 0, -1)), mode=Mode.PRIVATE) as cut_extrude_23_sk6:
        with BuildLine():
            Line((107, 22.5), (107, -12.5))
            ThreePointArc((107, -12.5), (110, -15.5), (113, -12.5))
            Line((113, -12.5), (113, 22.5))
            ThreePointArc((113, 22.5), (110, 25.5), (107, 22.5))
        make_face()
    cut_extrude_23_tool6 = extrude(cut_extrude_23_sk6.sketch, amount=-CUT_EXTRUDE_23_REACH, mode=Mode.PRIVATE) & part.part
    # 草图38 → 切除-拉伸23 (cut, up to next)
    with BuildSketch(Plane(origin=(0, 0, 45), x_dir=(-1, 0, 0), z_dir=(0, 0, -1)), mode=Mode.PRIVATE) as cut_extrude_23_sk7:
        with BuildLine():
            Line((91.343565249, 22.5), (91.343565249, -12.5))
            ThreePointArc((91.343565249, -12.5), (94.343565249, -15.5), (97.343565249, -12.5))
            Line((97.343565249, -12.5), (97.343565249, 22.5))
            ThreePointArc((97.343565249, 22.5), (94.343565249, 25.5), (91.343565249, 22.5))
        make_face()
    cut_extrude_23_tool7 = extrude(cut_extrude_23_sk7.sketch, amount=-CUT_EXTRUDE_23_REACH, mode=Mode.PRIVATE) & part.part
    # 草图38 → 切除-拉伸23 (cut, up to next)
    with BuildSketch(Plane(origin=(0, 0, 45), x_dir=(-1, 0, 0), z_dir=(0, 0, -1)), mode=Mode.PRIVATE) as cut_extrude_23_sk8:
        with BuildLine():
            Line((75.687130498, 22.5), (75.687130498, -12.5))
            ThreePointArc((75.687130498, -12.5), (78.687130498, -15.5), (81.687130498, -12.5))
            Line((81.687130498, -12.5), (81.687130498, 22.5))
            ThreePointArc((81.687130498, 22.5), (78.687130498, 25.5), (75.687130498, 22.5))
        make_face()
    cut_extrude_23_tool8 = extrude(cut_extrude_23_sk8.sketch, amount=-CUT_EXTRUDE_23_REACH, mode=Mode.PRIVATE) & part.part
    # 草图38 → 切除-拉伸23 (cut, up to next)
    with BuildSketch(Plane(origin=(0, 0, 45), x_dir=(-1, 0, 0), z_dir=(0, 0, -1)), mode=Mode.PRIVATE) as cut_extrude_23_sk9:
        with BuildLine():
            Line((60.030695747, 22.5), (60.030695747, -12.5))
            ThreePointArc((60.030695747, -12.5), (63.030695747, -15.5), (66.030695747, -12.5))
            Line((66.030695747, -12.5), (66.030695747, 22.5))
            ThreePointArc((66.030695747, 22.5), (63.030695747, 25.5), (60.030695747, 22.5))
        make_face()
    cut_extrude_23_tool9 = extrude(cut_extrude_23_sk9.sketch, amount=-CUT_EXTRUDE_23_REACH, mode=Mode.PRIVATE) & part.part
    # 草图38 → 切除-拉伸23 (cut, up to next)
    with BuildSketch(Plane(origin=(0, 0, 45), x_dir=(-1, 0, 0), z_dir=(0, 0, -1)), mode=Mode.PRIVATE) as cut_extrude_23_sk10:
        with BuildLine():
            Line((44.374260997, 22.5), (44.374260997, -12.5))
            ThreePointArc((44.374260997, -12.5), (47.374260997, -15.5), (50.374260997, -12.5))
            Line((50.374260997, -12.5), (50.374260997, 22.5))
            ThreePointArc((50.374260997, 22.5), (47.374260997, 25.5), (44.374260997, 22.5))
        make_face()
    cut_extrude_23_tool10 = extrude(cut_extrude_23_sk10.sketch, amount=-CUT_EXTRUDE_23_REACH, mode=Mode.PRIVATE) & part.part
    add(cut_extrude_23_tool1.solids().sort_by_distance((110, 5, 45))[0], mode=Mode.SUBTRACT)
    add(cut_extrude_23_tool2.solids().sort_by_distance((94.343565, 5, 45))[0], mode=Mode.SUBTRACT)
    add(cut_extrude_23_tool3.solids().sort_by_distance((78.68713, 5, 45))[0], mode=Mode.SUBTRACT)
    add(cut_extrude_23_tool4.solids().sort_by_distance((63.030696, 5, 45))[0], mode=Mode.SUBTRACT)
    add(cut_extrude_23_tool5.solids().sort_by_distance((47.374261, 5, 45))[0], mode=Mode.SUBTRACT)
    add(cut_extrude_23_tool6.solids().sort_by_distance((-110, 5, 45))[0], mode=Mode.SUBTRACT)
    add(cut_extrude_23_tool7.solids().sort_by_distance((-94.343565, 5, 45))[0], mode=Mode.SUBTRACT)
    add(cut_extrude_23_tool8.solids().sort_by_distance((-78.68713, 5, 45))[0], mode=Mode.SUBTRACT)
    add(cut_extrude_23_tool9.solids().sort_by_distance((-63.030696, 5, 45))[0], mode=Mode.SUBTRACT)
    add(cut_extrude_23_tool10.solids().sort_by_distance((-47.374261, 5, 45))[0], mode=Mode.SUBTRACT)


solid = part.part
